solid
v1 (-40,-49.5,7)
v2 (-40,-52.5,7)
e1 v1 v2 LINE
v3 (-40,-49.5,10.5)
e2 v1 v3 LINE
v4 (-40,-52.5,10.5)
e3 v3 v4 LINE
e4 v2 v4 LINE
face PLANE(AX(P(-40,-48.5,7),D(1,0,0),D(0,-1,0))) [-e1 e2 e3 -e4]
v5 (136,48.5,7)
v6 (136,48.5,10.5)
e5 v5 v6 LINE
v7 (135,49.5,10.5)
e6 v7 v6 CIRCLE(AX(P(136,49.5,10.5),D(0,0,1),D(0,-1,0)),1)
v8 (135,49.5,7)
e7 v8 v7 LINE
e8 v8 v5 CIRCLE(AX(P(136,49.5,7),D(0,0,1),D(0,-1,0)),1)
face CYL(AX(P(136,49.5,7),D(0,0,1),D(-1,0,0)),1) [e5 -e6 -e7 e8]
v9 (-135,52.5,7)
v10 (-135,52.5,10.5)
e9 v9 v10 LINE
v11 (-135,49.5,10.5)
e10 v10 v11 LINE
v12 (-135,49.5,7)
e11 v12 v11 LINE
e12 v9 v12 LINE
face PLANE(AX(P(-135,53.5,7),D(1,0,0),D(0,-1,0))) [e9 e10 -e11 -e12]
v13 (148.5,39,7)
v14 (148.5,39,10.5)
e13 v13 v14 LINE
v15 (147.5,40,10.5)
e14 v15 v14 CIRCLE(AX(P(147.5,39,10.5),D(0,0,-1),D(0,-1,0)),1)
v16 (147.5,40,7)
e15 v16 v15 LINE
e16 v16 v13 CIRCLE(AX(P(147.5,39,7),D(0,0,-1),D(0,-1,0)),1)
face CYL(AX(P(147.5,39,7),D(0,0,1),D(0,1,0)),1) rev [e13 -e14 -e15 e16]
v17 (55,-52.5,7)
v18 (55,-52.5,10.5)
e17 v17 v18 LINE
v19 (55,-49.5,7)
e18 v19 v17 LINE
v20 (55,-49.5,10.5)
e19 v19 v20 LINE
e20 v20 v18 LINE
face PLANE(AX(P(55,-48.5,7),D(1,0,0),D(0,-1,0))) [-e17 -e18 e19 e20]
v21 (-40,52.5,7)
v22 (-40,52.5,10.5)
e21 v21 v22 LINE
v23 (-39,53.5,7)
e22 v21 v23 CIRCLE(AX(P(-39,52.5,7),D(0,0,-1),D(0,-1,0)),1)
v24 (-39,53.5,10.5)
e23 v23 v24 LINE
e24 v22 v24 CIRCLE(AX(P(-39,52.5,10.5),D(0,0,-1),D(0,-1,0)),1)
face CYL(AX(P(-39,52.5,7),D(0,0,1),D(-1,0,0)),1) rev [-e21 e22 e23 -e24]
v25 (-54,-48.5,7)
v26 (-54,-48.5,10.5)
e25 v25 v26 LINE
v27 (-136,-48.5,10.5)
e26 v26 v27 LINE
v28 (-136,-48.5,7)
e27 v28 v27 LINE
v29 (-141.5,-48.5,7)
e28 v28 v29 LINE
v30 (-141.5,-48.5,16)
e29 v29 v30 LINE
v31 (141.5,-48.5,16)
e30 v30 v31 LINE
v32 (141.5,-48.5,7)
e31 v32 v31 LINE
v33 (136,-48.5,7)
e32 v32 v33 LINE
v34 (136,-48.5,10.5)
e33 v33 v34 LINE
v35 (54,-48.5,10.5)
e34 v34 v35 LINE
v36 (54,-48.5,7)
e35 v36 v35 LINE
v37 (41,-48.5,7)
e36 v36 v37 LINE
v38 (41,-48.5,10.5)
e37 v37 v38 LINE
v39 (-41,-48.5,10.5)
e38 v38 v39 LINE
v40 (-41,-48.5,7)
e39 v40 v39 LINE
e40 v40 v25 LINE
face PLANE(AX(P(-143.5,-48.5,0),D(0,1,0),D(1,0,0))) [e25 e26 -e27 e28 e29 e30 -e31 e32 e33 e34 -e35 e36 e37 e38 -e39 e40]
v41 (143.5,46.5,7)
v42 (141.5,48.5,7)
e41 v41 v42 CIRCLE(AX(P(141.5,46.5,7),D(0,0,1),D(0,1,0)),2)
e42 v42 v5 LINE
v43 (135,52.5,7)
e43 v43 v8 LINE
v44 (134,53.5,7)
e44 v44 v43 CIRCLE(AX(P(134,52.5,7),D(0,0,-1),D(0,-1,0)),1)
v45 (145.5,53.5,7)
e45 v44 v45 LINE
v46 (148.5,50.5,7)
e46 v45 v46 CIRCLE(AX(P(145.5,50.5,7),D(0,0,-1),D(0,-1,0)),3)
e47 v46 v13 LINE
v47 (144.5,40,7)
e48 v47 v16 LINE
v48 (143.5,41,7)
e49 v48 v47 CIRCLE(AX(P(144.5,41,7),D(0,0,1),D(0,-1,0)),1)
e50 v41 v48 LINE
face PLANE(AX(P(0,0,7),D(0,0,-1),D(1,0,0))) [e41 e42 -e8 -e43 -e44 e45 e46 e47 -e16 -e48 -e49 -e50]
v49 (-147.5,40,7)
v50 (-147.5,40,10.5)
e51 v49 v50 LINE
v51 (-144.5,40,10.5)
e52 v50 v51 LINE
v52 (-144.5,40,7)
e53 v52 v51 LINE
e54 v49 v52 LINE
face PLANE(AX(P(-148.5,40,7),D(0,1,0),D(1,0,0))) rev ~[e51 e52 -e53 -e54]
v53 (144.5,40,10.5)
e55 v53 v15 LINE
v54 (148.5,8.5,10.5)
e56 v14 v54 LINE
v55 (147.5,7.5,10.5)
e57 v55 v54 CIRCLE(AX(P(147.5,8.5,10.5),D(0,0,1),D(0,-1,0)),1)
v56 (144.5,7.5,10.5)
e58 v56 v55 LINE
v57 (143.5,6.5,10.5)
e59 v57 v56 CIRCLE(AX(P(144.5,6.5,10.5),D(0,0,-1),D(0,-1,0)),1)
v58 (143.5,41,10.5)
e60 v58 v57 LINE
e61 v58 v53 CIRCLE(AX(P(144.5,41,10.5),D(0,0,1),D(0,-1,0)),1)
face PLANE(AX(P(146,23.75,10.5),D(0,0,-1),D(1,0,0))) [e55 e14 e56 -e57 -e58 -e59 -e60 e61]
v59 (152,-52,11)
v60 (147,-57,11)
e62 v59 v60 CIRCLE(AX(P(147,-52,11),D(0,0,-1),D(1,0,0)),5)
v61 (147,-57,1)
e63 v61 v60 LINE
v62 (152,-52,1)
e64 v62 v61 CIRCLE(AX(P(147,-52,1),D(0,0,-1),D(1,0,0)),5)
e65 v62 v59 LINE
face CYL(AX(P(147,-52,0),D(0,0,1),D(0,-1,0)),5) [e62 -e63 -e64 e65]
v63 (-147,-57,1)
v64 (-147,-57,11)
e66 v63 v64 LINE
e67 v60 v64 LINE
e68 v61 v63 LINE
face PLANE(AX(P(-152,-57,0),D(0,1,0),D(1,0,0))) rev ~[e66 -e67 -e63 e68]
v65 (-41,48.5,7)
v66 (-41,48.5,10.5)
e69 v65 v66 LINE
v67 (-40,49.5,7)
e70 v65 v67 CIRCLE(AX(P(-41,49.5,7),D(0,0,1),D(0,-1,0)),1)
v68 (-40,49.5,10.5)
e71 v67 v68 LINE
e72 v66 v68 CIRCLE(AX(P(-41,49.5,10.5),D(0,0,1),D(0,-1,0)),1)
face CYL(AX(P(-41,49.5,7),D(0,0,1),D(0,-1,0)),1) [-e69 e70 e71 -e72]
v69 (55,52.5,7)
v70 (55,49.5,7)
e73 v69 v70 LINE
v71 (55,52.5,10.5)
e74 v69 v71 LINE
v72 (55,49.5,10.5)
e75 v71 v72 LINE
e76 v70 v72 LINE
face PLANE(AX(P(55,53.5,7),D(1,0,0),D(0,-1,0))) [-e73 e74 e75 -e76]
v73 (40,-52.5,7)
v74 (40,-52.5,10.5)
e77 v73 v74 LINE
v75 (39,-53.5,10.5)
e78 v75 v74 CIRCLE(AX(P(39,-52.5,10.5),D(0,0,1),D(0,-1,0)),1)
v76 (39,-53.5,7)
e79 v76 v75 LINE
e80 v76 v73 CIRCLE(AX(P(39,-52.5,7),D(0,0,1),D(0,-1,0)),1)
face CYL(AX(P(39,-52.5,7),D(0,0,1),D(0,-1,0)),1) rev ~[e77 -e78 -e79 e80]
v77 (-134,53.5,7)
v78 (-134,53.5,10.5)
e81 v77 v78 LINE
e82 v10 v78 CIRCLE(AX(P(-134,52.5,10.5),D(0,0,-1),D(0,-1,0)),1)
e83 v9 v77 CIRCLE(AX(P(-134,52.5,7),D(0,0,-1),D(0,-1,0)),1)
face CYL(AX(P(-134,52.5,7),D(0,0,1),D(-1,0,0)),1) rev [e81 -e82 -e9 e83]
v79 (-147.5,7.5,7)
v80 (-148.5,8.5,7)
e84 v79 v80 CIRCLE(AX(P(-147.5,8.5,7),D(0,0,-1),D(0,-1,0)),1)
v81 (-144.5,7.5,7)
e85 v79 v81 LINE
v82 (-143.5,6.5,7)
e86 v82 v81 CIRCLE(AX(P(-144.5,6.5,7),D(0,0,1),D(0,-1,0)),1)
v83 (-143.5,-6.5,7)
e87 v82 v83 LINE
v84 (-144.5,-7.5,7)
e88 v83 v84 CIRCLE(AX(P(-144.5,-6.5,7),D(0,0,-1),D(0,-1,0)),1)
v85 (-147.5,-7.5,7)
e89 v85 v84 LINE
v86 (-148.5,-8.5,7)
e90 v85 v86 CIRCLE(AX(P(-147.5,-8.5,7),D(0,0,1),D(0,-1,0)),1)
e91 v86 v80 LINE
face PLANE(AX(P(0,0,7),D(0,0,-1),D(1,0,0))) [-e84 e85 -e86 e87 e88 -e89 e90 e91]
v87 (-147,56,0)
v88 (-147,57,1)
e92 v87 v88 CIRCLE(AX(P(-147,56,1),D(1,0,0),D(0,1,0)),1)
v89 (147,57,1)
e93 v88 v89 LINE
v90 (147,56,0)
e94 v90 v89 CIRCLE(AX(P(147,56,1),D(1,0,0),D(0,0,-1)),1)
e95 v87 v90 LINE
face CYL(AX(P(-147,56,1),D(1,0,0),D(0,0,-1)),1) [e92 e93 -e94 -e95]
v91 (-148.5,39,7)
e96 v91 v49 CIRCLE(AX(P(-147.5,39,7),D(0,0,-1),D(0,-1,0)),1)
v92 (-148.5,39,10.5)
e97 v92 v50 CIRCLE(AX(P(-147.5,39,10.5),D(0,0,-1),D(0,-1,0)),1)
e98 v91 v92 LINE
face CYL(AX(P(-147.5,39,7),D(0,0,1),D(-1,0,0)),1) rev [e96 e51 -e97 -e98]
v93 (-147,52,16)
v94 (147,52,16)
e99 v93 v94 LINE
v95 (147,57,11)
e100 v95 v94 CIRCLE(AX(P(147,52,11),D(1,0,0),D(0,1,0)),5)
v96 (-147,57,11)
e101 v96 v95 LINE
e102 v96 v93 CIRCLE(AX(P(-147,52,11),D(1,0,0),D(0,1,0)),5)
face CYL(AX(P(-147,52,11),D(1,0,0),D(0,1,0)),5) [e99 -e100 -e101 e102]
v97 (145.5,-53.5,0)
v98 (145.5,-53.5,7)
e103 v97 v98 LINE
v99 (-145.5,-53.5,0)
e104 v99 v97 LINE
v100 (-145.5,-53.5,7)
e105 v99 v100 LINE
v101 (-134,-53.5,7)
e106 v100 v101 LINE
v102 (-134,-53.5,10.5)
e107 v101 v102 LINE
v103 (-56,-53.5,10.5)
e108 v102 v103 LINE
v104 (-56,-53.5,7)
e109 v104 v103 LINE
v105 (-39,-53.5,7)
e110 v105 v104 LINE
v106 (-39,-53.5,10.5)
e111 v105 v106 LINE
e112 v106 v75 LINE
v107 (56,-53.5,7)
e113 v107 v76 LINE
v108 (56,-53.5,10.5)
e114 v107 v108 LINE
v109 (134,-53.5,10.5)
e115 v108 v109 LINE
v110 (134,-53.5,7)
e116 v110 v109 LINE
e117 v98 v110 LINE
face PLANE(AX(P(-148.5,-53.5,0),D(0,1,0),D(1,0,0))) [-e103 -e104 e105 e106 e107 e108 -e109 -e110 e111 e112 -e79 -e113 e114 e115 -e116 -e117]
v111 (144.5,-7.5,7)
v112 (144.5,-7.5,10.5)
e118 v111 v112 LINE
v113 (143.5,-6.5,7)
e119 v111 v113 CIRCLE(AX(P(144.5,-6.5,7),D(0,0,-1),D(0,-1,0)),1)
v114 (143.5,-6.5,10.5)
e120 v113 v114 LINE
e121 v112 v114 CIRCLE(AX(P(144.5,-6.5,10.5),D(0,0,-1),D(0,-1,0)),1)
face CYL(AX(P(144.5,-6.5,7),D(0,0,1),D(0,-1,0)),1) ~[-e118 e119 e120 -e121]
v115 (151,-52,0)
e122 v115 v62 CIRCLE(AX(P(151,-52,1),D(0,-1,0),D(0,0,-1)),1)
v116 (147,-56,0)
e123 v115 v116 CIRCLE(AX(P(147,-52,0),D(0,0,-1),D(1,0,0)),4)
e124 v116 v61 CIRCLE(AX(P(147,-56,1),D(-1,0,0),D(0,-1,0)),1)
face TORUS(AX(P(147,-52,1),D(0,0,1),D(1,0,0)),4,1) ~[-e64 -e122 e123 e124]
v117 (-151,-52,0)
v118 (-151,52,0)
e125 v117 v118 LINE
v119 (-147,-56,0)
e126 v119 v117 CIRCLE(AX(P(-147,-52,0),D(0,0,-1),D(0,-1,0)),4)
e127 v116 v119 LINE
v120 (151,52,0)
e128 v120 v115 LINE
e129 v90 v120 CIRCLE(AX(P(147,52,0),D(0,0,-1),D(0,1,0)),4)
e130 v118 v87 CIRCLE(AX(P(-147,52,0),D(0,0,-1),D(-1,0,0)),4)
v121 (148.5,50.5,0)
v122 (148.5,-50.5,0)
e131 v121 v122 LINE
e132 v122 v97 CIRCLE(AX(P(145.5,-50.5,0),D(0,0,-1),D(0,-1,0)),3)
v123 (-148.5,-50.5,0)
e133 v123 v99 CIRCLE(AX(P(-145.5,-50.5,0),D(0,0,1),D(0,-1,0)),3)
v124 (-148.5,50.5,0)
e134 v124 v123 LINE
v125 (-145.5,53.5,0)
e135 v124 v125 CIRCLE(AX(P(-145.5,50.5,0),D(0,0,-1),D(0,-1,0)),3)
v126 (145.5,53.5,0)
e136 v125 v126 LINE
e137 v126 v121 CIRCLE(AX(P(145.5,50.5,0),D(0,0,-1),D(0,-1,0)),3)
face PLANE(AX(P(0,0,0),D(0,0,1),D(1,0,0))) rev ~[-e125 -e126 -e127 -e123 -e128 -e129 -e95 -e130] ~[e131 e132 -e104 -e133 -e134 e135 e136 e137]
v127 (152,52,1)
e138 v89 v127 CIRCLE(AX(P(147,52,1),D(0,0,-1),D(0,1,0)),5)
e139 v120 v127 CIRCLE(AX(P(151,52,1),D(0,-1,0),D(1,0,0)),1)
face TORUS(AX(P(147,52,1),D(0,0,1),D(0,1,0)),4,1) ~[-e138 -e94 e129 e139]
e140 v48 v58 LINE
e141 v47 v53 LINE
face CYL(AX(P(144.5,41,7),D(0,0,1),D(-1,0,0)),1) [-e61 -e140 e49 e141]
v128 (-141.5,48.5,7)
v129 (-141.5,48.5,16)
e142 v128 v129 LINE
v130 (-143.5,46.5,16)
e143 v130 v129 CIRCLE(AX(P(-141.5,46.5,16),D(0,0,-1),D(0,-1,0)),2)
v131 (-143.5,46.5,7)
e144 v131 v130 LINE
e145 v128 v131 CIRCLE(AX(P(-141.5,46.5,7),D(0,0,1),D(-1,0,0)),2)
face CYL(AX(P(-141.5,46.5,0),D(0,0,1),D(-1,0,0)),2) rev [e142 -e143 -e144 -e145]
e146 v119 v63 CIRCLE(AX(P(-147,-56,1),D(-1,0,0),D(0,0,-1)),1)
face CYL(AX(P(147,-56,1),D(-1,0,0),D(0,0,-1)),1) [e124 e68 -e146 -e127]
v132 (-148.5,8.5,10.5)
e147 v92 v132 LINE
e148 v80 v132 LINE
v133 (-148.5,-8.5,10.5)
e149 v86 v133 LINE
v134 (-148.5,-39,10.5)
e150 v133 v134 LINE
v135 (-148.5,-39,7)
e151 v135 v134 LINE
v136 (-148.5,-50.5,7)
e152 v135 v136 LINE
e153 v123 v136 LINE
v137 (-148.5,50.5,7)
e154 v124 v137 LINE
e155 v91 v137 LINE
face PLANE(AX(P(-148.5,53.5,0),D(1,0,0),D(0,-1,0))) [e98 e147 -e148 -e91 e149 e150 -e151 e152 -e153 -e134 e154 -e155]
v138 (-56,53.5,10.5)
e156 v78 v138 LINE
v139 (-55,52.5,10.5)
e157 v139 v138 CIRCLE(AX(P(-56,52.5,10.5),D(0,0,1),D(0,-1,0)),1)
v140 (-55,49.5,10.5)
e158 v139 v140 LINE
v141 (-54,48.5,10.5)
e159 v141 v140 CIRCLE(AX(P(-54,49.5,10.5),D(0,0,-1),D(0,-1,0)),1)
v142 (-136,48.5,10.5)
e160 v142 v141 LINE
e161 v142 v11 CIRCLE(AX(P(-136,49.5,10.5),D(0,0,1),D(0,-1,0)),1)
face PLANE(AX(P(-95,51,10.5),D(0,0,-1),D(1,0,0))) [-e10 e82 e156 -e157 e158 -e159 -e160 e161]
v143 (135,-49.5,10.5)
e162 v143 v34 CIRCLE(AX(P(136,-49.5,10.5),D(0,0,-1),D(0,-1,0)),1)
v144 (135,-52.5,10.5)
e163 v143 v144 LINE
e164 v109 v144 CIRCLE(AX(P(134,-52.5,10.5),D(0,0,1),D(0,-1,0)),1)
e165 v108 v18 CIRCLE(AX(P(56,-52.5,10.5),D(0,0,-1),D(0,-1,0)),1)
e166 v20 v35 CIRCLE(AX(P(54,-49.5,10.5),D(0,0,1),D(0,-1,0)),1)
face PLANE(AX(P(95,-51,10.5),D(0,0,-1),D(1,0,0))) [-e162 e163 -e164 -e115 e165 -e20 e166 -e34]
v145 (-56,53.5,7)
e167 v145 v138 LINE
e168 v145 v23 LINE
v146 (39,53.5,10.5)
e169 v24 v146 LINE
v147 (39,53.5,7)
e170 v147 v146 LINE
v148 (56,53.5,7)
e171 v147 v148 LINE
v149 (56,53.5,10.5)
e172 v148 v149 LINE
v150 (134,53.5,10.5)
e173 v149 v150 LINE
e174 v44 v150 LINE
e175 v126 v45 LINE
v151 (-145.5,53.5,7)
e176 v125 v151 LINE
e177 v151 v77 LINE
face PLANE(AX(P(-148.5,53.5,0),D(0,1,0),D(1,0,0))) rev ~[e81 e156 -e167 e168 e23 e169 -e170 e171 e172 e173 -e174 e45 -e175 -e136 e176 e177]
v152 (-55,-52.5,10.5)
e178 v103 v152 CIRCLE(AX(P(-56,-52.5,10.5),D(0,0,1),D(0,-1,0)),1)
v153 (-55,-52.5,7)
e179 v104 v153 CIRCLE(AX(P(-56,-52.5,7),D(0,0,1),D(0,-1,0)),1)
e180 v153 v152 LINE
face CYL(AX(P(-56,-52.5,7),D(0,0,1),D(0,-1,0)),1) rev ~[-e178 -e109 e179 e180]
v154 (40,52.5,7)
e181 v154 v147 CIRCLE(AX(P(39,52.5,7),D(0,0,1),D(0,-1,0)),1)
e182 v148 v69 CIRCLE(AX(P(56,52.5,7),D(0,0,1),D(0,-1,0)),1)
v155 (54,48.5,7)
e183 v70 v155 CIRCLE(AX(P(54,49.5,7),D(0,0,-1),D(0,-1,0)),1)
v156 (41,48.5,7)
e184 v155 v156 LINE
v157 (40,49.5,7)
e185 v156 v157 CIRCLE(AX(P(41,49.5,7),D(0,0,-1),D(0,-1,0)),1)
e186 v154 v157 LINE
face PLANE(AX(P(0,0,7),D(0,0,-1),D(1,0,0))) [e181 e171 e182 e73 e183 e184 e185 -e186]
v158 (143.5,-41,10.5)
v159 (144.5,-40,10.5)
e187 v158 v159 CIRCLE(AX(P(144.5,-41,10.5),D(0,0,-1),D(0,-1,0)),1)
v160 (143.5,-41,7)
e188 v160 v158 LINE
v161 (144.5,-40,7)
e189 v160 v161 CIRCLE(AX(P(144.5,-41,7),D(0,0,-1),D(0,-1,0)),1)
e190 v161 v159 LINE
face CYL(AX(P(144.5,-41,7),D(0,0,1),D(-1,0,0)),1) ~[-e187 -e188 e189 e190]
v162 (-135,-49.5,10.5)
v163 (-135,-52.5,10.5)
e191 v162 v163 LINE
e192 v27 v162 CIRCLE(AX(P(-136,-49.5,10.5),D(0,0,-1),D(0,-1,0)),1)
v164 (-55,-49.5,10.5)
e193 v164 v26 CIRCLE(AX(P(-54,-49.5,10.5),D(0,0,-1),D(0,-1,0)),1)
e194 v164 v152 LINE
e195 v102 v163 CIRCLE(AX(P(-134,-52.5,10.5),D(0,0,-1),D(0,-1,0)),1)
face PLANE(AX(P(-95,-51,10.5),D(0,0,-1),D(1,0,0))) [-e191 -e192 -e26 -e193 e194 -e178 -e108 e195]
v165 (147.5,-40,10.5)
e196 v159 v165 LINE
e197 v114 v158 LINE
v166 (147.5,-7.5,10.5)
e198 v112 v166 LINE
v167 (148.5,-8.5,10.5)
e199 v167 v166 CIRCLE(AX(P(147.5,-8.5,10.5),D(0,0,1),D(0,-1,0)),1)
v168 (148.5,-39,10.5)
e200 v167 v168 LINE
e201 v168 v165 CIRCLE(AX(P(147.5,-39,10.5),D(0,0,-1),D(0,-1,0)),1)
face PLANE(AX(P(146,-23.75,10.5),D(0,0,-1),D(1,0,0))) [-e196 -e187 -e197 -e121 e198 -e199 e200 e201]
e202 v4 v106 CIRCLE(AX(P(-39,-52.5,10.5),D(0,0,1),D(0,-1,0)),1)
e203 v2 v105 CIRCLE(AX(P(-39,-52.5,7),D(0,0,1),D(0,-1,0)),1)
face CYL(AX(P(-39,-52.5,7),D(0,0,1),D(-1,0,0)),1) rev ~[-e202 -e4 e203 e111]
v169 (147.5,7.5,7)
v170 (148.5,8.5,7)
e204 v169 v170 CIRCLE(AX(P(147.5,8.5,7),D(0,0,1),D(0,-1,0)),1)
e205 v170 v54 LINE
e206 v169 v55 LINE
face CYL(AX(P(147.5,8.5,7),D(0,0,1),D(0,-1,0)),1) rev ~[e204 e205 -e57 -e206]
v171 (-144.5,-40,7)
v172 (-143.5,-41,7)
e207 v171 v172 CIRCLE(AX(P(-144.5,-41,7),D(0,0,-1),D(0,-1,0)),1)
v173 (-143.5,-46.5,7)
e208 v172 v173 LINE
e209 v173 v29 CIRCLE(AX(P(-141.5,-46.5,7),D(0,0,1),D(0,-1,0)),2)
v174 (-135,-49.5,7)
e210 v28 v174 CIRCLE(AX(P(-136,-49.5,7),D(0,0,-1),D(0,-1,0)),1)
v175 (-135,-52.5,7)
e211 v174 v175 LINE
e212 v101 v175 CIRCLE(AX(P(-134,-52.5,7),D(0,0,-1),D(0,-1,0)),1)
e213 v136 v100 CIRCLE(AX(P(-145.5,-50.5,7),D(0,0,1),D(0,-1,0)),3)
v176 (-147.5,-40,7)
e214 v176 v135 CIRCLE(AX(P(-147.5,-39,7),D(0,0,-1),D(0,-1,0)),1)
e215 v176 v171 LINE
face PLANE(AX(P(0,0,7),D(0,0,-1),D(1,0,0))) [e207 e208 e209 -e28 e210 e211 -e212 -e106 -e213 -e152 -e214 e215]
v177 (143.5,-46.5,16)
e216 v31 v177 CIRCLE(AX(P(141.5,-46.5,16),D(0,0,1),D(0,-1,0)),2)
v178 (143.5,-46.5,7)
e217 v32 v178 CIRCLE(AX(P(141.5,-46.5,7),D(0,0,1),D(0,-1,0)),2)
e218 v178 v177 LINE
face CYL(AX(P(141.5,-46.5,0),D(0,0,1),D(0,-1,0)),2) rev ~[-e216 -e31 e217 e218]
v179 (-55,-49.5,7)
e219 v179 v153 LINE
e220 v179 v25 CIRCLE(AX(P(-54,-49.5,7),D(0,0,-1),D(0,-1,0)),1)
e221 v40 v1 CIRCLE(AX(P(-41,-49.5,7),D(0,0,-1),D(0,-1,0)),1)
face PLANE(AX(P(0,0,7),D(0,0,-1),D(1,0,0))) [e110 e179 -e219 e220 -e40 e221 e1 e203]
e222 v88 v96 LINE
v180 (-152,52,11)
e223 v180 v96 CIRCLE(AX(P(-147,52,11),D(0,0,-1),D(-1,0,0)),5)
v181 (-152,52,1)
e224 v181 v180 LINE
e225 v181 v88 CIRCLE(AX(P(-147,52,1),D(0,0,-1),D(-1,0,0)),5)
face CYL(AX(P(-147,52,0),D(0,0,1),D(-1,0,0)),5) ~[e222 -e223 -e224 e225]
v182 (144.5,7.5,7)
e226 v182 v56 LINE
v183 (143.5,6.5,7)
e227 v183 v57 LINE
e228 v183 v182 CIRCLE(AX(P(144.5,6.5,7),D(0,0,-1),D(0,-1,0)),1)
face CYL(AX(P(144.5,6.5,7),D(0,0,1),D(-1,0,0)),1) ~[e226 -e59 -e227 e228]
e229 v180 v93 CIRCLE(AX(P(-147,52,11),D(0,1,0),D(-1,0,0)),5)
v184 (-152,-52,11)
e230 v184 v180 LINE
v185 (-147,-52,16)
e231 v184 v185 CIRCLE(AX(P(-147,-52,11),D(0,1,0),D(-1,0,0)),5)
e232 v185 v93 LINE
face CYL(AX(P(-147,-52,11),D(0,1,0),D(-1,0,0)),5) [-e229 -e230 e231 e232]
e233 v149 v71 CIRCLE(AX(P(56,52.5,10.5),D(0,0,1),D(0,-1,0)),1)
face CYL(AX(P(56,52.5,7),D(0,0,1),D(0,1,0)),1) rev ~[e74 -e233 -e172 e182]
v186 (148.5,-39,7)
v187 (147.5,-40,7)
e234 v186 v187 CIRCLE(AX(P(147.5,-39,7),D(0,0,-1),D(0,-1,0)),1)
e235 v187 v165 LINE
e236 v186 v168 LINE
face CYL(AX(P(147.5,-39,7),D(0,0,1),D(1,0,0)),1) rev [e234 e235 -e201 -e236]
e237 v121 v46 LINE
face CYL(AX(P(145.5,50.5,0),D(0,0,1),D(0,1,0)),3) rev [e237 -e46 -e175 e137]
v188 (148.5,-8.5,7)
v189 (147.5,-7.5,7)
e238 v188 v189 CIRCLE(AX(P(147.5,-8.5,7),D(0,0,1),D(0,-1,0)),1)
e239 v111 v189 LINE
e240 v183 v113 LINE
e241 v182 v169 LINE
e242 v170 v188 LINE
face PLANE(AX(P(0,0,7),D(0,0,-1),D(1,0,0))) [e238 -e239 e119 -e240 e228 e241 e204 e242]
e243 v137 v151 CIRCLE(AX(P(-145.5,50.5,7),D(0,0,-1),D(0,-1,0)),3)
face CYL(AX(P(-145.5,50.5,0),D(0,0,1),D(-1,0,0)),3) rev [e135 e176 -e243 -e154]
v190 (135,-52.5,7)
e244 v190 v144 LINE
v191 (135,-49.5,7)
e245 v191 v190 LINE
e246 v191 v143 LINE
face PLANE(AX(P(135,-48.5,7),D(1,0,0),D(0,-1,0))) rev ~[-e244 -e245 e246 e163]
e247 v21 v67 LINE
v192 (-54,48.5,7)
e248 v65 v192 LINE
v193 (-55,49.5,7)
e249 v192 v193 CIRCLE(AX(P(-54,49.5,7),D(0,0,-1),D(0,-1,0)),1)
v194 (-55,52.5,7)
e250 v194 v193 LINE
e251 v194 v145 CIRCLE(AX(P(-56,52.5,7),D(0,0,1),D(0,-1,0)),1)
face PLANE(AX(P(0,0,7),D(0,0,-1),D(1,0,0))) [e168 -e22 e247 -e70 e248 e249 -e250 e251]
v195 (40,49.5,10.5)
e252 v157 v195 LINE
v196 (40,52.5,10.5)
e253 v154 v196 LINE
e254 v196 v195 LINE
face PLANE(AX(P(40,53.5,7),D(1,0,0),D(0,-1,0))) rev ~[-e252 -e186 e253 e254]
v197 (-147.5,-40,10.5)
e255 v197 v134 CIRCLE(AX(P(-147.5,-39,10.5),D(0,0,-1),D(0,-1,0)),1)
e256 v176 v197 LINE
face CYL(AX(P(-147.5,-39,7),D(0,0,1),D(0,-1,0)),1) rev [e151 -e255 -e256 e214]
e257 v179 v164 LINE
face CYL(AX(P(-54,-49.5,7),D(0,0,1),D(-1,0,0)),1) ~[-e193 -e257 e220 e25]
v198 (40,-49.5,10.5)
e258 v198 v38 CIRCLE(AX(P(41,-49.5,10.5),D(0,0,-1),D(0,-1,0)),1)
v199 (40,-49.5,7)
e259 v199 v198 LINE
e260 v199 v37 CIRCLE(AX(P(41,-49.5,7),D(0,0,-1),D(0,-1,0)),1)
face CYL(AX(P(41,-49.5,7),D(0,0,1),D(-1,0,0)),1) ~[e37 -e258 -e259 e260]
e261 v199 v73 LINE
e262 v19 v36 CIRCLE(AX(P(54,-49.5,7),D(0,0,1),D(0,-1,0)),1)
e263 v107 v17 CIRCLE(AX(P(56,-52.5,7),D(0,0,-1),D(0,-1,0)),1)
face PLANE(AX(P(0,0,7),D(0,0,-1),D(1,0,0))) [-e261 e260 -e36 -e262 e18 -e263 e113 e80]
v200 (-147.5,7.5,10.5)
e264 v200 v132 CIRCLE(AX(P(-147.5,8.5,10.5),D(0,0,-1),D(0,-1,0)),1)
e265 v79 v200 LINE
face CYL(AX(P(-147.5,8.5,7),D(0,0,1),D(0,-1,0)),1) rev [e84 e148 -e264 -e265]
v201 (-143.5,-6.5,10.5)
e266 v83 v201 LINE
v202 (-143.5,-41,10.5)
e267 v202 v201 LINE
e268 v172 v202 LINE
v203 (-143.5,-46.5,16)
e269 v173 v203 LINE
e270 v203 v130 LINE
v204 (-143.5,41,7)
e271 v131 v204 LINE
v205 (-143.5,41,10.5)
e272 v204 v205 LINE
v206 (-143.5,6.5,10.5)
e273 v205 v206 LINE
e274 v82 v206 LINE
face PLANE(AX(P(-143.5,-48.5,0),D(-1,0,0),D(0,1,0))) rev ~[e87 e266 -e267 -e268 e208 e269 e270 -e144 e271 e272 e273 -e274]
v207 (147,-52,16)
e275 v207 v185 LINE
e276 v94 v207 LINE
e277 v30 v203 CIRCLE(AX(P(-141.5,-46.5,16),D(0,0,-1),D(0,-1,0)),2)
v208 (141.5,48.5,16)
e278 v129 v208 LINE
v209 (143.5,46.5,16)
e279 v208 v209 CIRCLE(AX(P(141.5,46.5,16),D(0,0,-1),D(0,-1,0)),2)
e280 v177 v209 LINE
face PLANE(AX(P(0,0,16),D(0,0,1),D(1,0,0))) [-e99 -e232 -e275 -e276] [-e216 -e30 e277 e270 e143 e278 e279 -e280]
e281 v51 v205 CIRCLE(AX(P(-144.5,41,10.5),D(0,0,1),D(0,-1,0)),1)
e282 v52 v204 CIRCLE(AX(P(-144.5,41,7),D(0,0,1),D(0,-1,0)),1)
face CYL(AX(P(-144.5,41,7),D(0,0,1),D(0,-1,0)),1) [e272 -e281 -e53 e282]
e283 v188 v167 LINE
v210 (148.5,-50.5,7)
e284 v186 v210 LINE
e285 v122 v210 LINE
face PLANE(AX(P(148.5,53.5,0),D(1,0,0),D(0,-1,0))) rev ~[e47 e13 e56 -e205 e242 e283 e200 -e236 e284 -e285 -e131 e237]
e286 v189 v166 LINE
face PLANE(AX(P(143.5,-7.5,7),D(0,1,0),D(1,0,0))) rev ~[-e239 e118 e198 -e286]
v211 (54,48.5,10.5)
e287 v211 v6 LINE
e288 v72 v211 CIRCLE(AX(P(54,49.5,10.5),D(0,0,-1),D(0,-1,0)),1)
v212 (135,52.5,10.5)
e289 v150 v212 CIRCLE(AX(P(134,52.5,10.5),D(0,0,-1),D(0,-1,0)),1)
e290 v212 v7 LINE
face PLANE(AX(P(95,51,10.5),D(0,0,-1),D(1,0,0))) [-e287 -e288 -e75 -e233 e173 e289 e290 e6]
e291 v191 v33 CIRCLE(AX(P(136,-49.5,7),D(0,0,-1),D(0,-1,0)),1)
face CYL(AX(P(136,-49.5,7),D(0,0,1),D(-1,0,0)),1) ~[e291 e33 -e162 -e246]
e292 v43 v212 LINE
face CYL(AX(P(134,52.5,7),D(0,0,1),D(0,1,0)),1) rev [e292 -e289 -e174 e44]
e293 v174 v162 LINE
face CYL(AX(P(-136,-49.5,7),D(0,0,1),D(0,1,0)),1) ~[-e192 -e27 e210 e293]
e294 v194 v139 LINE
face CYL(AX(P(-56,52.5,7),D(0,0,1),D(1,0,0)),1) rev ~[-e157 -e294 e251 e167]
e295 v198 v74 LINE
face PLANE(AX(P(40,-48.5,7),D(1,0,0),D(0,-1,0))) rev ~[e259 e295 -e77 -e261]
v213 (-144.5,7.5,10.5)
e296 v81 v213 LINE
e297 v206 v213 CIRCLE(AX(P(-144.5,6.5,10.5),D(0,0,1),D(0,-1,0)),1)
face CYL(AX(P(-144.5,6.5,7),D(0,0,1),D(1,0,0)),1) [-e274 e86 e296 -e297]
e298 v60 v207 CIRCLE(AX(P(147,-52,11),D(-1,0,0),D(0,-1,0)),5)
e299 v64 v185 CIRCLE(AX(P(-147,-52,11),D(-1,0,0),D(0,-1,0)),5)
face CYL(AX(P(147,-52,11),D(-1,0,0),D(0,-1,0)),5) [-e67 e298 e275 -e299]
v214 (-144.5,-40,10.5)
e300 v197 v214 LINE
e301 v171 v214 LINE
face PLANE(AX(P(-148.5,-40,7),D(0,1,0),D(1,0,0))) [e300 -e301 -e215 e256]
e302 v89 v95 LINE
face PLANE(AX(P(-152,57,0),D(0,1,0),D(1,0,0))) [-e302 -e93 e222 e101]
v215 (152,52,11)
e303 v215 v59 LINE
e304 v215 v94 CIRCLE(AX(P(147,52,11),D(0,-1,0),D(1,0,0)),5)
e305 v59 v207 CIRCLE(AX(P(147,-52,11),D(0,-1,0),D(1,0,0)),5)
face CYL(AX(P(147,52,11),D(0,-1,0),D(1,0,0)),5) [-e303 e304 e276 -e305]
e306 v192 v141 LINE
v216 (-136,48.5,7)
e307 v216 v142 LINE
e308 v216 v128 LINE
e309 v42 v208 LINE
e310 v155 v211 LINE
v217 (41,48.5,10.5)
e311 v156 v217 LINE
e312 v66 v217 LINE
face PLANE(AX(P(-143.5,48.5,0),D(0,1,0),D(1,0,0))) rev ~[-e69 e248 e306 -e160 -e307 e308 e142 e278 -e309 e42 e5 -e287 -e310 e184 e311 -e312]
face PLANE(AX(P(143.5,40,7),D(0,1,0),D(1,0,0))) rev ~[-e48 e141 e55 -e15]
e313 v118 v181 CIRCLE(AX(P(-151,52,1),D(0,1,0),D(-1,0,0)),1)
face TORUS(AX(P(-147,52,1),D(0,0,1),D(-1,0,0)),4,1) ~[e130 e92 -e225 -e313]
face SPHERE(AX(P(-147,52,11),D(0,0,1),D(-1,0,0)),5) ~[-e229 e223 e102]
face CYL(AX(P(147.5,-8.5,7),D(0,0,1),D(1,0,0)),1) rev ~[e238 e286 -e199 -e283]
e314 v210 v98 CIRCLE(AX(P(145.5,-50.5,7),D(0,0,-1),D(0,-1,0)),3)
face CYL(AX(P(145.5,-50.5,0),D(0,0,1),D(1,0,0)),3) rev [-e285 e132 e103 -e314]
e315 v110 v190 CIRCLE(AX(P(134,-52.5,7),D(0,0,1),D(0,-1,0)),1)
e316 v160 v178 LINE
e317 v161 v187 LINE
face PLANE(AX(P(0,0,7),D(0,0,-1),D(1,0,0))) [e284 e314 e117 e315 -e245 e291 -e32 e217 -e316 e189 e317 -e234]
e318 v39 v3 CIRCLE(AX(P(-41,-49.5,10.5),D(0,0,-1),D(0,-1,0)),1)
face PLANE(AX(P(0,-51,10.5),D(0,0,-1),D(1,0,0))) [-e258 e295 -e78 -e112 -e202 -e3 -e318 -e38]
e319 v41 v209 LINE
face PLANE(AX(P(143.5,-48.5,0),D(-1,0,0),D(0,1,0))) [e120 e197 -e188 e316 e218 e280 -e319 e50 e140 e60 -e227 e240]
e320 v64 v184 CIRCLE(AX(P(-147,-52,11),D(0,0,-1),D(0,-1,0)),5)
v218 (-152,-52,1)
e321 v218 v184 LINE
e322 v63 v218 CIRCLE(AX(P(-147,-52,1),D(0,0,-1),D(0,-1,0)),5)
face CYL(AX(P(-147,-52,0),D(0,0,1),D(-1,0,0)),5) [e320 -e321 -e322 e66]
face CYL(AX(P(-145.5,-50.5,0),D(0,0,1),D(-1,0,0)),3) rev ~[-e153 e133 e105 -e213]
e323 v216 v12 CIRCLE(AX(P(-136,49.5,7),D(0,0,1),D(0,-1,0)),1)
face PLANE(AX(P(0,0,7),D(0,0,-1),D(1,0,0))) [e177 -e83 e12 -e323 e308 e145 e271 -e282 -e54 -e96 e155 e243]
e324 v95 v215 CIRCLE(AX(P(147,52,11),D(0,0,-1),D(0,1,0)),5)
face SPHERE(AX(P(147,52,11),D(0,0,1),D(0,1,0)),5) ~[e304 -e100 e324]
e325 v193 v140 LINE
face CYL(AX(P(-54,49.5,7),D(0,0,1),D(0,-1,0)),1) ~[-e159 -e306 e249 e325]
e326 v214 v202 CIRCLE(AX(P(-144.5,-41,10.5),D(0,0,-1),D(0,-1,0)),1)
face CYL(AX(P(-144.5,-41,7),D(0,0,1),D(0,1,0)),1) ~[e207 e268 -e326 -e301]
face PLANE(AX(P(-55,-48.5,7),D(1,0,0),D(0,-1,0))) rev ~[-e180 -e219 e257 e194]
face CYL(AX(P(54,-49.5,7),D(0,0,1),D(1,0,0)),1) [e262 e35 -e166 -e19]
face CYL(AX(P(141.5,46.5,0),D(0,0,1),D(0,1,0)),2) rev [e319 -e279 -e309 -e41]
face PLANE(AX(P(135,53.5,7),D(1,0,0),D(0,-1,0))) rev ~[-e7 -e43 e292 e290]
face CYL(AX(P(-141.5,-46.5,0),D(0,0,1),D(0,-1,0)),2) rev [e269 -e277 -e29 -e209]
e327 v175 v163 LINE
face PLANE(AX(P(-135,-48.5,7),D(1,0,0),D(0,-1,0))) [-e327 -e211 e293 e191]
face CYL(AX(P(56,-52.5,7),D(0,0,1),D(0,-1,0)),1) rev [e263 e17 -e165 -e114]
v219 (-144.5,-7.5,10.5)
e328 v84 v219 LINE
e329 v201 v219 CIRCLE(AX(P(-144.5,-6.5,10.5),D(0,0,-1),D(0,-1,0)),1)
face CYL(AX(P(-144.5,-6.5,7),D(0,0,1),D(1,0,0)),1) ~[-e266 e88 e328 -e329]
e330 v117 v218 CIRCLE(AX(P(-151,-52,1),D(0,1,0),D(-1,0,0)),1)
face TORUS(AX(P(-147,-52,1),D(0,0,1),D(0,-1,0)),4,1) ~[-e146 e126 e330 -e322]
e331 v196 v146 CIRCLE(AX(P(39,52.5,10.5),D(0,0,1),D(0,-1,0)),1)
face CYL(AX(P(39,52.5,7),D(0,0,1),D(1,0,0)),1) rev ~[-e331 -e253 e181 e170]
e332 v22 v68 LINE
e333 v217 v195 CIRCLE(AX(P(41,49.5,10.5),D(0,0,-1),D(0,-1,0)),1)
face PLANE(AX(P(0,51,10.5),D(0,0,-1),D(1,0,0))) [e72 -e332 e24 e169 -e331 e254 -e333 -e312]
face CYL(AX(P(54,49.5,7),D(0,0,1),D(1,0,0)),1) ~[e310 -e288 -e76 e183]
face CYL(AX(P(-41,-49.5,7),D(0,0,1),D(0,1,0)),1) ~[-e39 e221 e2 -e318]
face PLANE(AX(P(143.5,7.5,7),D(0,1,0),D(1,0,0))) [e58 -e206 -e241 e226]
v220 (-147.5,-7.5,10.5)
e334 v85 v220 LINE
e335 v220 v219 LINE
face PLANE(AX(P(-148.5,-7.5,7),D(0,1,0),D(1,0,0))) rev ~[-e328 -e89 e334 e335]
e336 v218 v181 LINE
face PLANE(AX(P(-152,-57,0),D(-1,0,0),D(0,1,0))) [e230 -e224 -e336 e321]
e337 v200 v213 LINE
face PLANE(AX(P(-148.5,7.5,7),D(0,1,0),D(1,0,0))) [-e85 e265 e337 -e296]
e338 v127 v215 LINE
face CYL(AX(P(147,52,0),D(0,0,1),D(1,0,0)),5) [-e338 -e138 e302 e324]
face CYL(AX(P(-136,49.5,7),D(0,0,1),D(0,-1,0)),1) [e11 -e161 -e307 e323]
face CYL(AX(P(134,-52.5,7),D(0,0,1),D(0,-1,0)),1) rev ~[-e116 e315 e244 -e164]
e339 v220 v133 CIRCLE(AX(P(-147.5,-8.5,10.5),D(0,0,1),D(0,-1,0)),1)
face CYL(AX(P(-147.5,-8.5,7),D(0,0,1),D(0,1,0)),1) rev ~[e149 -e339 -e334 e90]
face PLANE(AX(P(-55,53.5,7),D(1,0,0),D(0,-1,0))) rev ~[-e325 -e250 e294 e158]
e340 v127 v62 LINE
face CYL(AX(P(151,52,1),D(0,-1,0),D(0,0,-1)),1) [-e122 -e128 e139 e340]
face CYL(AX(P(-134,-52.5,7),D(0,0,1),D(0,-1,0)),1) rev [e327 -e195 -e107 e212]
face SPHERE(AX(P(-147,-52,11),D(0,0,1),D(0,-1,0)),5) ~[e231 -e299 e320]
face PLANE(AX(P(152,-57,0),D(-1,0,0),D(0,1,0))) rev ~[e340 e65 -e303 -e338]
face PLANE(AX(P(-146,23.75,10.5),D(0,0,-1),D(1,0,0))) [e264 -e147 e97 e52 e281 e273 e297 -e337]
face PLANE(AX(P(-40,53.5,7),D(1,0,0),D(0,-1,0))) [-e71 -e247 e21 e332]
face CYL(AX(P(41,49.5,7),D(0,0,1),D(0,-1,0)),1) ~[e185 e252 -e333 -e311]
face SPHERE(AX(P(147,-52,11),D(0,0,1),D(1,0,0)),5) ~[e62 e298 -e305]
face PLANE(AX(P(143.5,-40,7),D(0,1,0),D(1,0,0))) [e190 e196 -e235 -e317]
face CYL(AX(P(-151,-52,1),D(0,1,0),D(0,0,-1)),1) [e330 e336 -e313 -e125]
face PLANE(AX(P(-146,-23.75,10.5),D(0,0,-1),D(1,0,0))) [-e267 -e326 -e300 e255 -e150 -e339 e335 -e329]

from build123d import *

# Parameters (mm, degrees)
SKETCH001_W     = 304
SKETCH001_H     = 114
SKETCH001_W_2   = 287
SKETCH001_H_2   = 97
PAD_DEPTH       = 16
FILLET_R        = 2
FILLET001_R     = 2
FILLET002_R     = 2
FILLET003_R     = 2
FILLET004_R     = 5
FILLET005_R     = 5
FILLET006_R     = 5
FILLET007_R     = 5
SKETCH002_W     = 297
SKETCH002_H     = 107
POCKET_DEPTH    = 7
FILLET008_R     = 3
FILLET009_R     = 3
FILLET010_R     = 3
FILLET011_R     = 3
SKETCH003_W     = 80
SKETCH003_H     = 5
POCKET001_DEPTH = 3.5
SKETCH004_W     = 5
SKETCH004_H     = 32.5
POCKET002_DEPTH = 3.5
FILLET012_R     = 5
FILLET013_R     = 1
FILLET014_R     = 1
FILLET015_R     = 1
FILLET016_R     = 1
FILLET017_R     = 1
FILLET018_R     = 1
FILLET019_R     = 1
FILLET020_R     = 1
FILLET021_R     = 1
FILLET022_R     = 1
FILLET023_R     = 1
FILLET024_R     = 1
FILLET025_R     = 1
FILLET026_R     = 1
FILLET027_R     = 1
FILLET028_R     = 1
FILLET029_R     = 1
FILLET030_R     = 1
FILLET031_R     = 1
FILLET032_R     = 1
FILLET033_R     = 1
FILLET034_R     = 1
FILLET035_R     = 1
FILLET036_R     = 1
FILLET037_R     = 1
FILLET038_R     = 1
FILLET039_R     = 1
FILLET040_R     = 1
FILLET041_R     = 1
FILLET042_R     = 1
FILLET043_R     = 1
FILLET044_R     = 1
FILLET045_R     = 1
FILLET046_R     = 1
FILLET047_R     = 1
FILLET048_R     = 1
FILLET049_R     = 1
FILLET050_R     = 1
FILLET051_R     = 1
FILLET052_R     = 1
FILLET053_R     = 1


with BuildPart() as part:
    # Sketch001 → Pad (new body)
    with BuildSketch(Plane.XY):
        Rectangle(SKETCH001_W, SKETCH001_H)
        Rectangle(SKETCH001_W_2, SKETCH001_H_2, mode=Mode.SUBTRACT)
    extrude(amount=PAD_DEPTH)

    # Fillet
    fillet_edges = [part.edges().sort_by_distance(p)[0] for p in [
        (-143.5, -48.5, 8),
    ]]
    fillet(fillet_edges, radius=FILLET_R)

    # Fillet001
    fillet001_edges = [part.edges().sort_by_distance(p)[0] for p in [
        (143.5, -48.5, 8),
    ]]
    fillet(fillet001_edges, radius=FILLET001_R)

    # Fillet002
    fillet002_edges = [part.edges().sort_by_distance(p)[0] for p in [
        (-143.5, 48.5, 8),
    ]]
    fillet(fillet002_edges, radius=FILLET002_R)

    # Fillet003
    fillet003_edges = [part.edges().sort_by_distance(p)[0] for p in [
        (143.5, 48.5, 8),
    ]]
    fillet(fillet003_edges, radius=FILLET003_R)

    # Fillet004
    fillet004_edges = [part.edges().sort_by_distance(p)[0] for p in [
        (-152, -57, 8),
    ]]
    fillet(fillet004_edges, radius=FILLET004_R)

    # Fillet005
    fillet005_edges = [part.edges().sort_by_distance(p)[0] for p in [
        (-152, 57, 8),
    ]]
    fillet(fillet005_edges, radius=FILLET005_R)

    # Fillet006
    fillet006_edges = [part.edges().sort_by_distance(p)[0] for p in [
        (152, -57, 8),
    ]]
    fillet(fillet006_edges, radius=FILLET006_R)

    # Fillet007
    fillet007_edges = [part.edges().sort_by_distance(p)[0] for p in [
        (152, 57, 8),
    ]]
    fillet(fillet007_edges, radius=FILLET007_R)

    # Sketch002 (on Face1 of Fillet007) → Pocket (cut)
    with BuildSketch(Plane(origin=(0, 0, 0), x_dir=(1, 0, 0), z_dir=(0, 0, -1))):
        Rectangle(SKETCH002_W, SKETCH002_H)
    extrude(amount=-POCKET_DEPTH, mode=Mode.SUBTRACT)

    # Fillet008
    fillet008_edges = [part.edges().sort_by_distance(p)[0] for p in [
        (-148.5, -53.5, 3.5),
    ]]
    fillet(fillet008_edges, radius=FILLET008_R)

    # Fillet009
    fillet009_edges = [part.edges().sort_by_distance(p)[0] for p in [
        (-148.5, 53.5, 3.5),
    ]]
    fillet(fillet009_edges, radius=FILLET009_R)

    # Fillet010
    fillet010_edges = [part.edges().sort_by_distance(p)[0] for p in [
        (148.5, 53.5, 3.5),
    ]]
    fillet(fillet010_edges, radius=FILLET010_R)

    # Fillet011
    fillet011_edges = [part.edges().sort_by_distance(p)[0] for p in [
        (148.5, -53.5, 3.5),
    ]]
    fillet(fillet011_edges, radius=FILLET011_R)

    # Sketch003 (on Face18 of Fillet011) → Pocket001 (cut)
    with BuildSketch(Plane(origin=(0, 0, 7), x_dir=(1, 0, 0), z_dir=(0, 0, -1))):
        with Locations((0, 51)):
            Rectangle(SKETCH003_W, SKETCH003_H)
        with Locations((0, -51)):
            Rectangle(SKETCH003_W, SKETCH003_H)
        with Locations((-95, 51)):
            Rectangle(SKETCH003_W, SKETCH003_H)
        with Locations((95, 51)):
            Rectangle(SKETCH003_W, SKETCH003_H)
        with Locations((95, -51)):
            Rectangle(SKETCH003_W, SKETCH003_H)
        with Locations((-95, -51)):
            Rectangle(SKETCH003_W, SKETCH003_H)
    extrude(amount=-POCKET001_DEPTH, mode=Mode.SUBTRACT)

    # Sketch004 (on Face18 of Pocket001) → Pocket002 (cut)
    with BuildSketch(Plane(origin=(0, 0, 7), x_dir=(1, 0, 0), z_dir=(0, 0, -1))):
        with Locations((-146, 23.75)):
            Rectangle(SKETCH004_W, SKETCH004_H)
        with Locations((146, 23.75)):
            Rectangle(SKETCH004_W, SKETCH004_H)
        with Locations((146, -23.75)):
            Rectangle(SKETCH004_W, SKETCH004_H)
        with Locations((-146, -23.75)):
            Rectangle(SKETCH004_W, SKETCH004_H)
    extrude(amount=-POCKET002_DEPTH, mode=Mode.SUBTRACT)

    # Fillet012
    fillet012_edges = [part.edges().sort_by_distance(p)[0] for p in [
        (-150.535534, 55.535534, 16),
    ]]
    fillet(fillet012_edges, radius=FILLET012_R)

    # Fillet013
    fillet013_edges = [part.edges().sort_by_distance(p)[0] for p in [
        (-150.535534, 55.535534, 0),
    ]]
    fillet(fillet013_edges, radius=FILLET013_R)

    # Fillet014
    fillet014_edges = [part.edges().sort_by_distance(p)[0] for p in [
        (-135, -48.5, 8.75),
    ]]
    fillet(fillet014_edges, radius=FILLET014_R)

    # Fillet015
    fillet015_edges = [part.edges().sort_by_distance(p)[0] for p in [
        (-143.5, -40, 8.75),
    ]]
    fillet(fillet015_edges, radius=FILLET015_R)

    # Fillet016
    fillet016_edges = [part.edges().sort_by_distance(p)[0] for p in [
        (-135, -53.5, 8.75),
    ]]
    fillet(fillet016_edges, radius=FILLET016_R)

    # Fillet017
    fillet017_edges = [part.edges().sort_by_distance(p)[0] for p in [
        (-148.5, -40, 8.75),
    ]]
    fillet(fillet017_edges, radius=FILLET017_R)

    # Fillet018
    fillet018_edges = [part.edges().sort_by_distance(p)[0] for p in [
        (-40, -53.5, 8.75),
    ]]
    fillet(fillet018_edges, radius=FILLET018_R)

    # Fillet019
    fillet019_edges = [part.edges().sort_by_distance(p)[0] for p in [
        (-40, -48.5, 8.75),
    ]]
    fillet(fillet019_edges, radius=FILLET019_R)

    # Fillet020
    fillet020_edges = [part.edges().sort_by_distance(p)[0] for p in [
        (-55, -48.5, 8.75),
    ]]
    fillet(fillet020_edges, radius=FILLET020_R)

    # Fillet021
    fillet021_edges = [part.edges().sort_by_distance(p)[0] for p in [
        (-55, -53.5, 8.75),
    ]]
    fillet(fillet021_edges, radius=FILLET021_R)

    # Fillet022
    fillet022_edges = [part.edges().sort_by_distance(p)[0] for p in [
        (40, -48.5, 8.75),
    ]]
    fillet(fillet022_edges, radius=FILLET022_R)

    # Fillet023
    fillet023_edges = [part.edges().sort_by_distance(p)[0] for p in [
        (40, -53.5, 8.75),
    ]]
    fillet(fillet023_edges, radius=FILLET023_R)

    # Fillet024
    fillet024_edges = [part.edges().sort_by_distance(p)[0] for p in [
        (55, -48.5, 8.75),
    ]]
    fillet(fillet024_edges, radius=FILLET024_R)

    # Fillet025
    fillet025_edges = [part.edges().sort_by_distance(p)[0] for p in [
        (55, -53.5, 8.75),
    ]]
    fillet(fillet025_edges, radius=FILLET025_R)

    # Fillet026
    fillet026_edges = [part.edges().sort_by_distance(p)[0] for p in [
        (148.5, -40, 8.75),
    ]]
    fillet(fillet026_edges, radius=FILLET026_R)

    # Fillet027
    fillet027_edges = [part.edges().sort_by_distance(p)[0] for p in [
        (143.5, -40, 8.75),
    ]]
    fillet(fillet027_edges, radius=FILLET027_R)

    # Fillet028
    fillet028_edges = [part.edges().sort_by_distance(p)[0] for p in [
        (135, -48.5, 8.75),
    ]]
    fillet(fillet028_edges, radius=FILLET028_R)

    # Fillet029
    fillet029_edges = [part.edges().sort_by_distance(p)[0] for p in [
        (135, -53.5, 8.75),
    ]]
    fillet(fillet029_edges, radius=FILLET029_R)

    # Fillet030
    fillet030_edges = [part.edges().sort_by_distance(p)[0] for p in [
        (148.5, 7.5, 8.75),
    ]]
    fillet(fillet030_edges, radius=FILLET030_R)

    # Fillet031
    fillet031_edges = [part.edges().sort_by_distance(p)[0] for p in [
        (143.5, 7.5, 8.75),
    ]]
    fillet(fillet031_edges, radius=FILLET031_R)

    # Fillet032
    fillet032_edges = [part.edges().sort_by_distance(p)[0] for p in [
        (143.5, -7.5, 8.75),
    ]]
    fillet(fillet032_edges, radius=FILLET032_R)

    # Fillet033
    fillet033_edges = [part.edges().sort_by_distance(p)[0] for p in [
        (148.5, -7.5, 8.75),
    ]]
    fillet(fillet033_edges, radius=FILLET033_R)

    # Fillet034
    fillet034_edges = [part.edges().sort_by_distance(p)[0] for p in [
        (148.5, 40, 8.75),
    ]]
    fillet(fillet034_edges, radius=FILLET034_R)

    # Fillet035
    fillet035_edges = [part.edges().sort_by_distance(p)[0] for p in [
        (143.5, 40, 8.75),
    ]]
    fillet(fillet035_edges, radius=FILLET035_R)

    # Fillet036
    fillet036_edges = [part.edges().sort_by_distance(p)[0] for p in [
        (135, 48.5, 8.75),
    ]]
    fillet(fillet036_edges, radius=FILLET036_R)

    # Fillet037
    fillet037_edges = [part.edges().sort_by_distance(p)[0] for p in [
        (135, 53.5, 8.75),
    ]]
    fillet(fillet037_edges, radius=FILLET037_R)

    # Fillet038
    fillet038_edges = [part.edges().sort_by_distance(p)[0] for p in [
        (40, 53.5, 8.75),
    ]]
    fillet(fillet038_edges, radius=FILLET038_R)

    # Fillet039
    fillet039_edges = [part.edges().sort_by_distance(p)[0] for p in [
        (40, 48.5, 8.75),
    ]]
    fillet(fillet039_edges, radius=FILLET039_R)

    # Fillet040
    fillet040_edges = [part.edges().sort_by_distance(p)[0] for p in [
        (55, 48.5, 8.75),
    ]]
    fillet(fillet040_edges, radius=FILLET040_R)

    # Fillet041
    fillet041_edges = [part.edges().sort_by_distance(p)[0] for p in [
        (55, 53.5, 8.75),
    ]]
    fillet(fillet041_edges, radius=FILLET041_R)

    # Fillet042
    fillet042_edges = [part.edges().sort_by_distance(p)[0] for p in [
        (-40, 53.5, 8.75),
    ]]
    fillet(fillet042_edges, radius=FILLET042_R)

    # Fillet043
    fillet043_edges = [part.edges().sort_by_distance(p)[0] for p in [
        (-40, 48.5, 8.75),
    ]]
    fillet(fillet043_edges, radius=FILLET043_R)

    # Fillet044
    fillet044_edges = [part.edges().sort_by_distance(p)[0] for p in [
        (-55, 53.5, 8.75),
    ]]
    fillet(fillet044_edges, radius=FILLET044_R)

    # Fillet045
    fillet045_edges = [part.edges().sort_by_distance(p)[0] for p in [
        (-55, 48.5, 8.75),
    ]]
    fillet(fillet045_edges, radius=FILLET045_R)

    # Fillet046
    fillet046_edges = [part.edges().sort_by_distance(p)[0] for p in [
        (-135, 53.5, 8.75),
    ]]
    fillet(fillet046_edges, radius=FILLET046_R)

    # Fillet047
    fillet047_edges = [part.edges().sort_by_distance(p)[0] for p in [
        (-135, 48.5, 8.75),
    ]]
    fillet(fillet047_edges, radius=FILLET047_R)

    # Fillet048
    fillet048_edges = [part.edges().sort_by_distance(p)[0] for p in [
        (-143.5, 40, 8.75),
    ]]
    fillet(fillet048_edges, radius=FILLET048_R)

    # Fillet049
    fillet049_edges = [part.edges().sort_by_distance(p)[0] for p in [
        (-148.5, 40, 8.75),
    ]]
    fillet(fillet049_edges, radius=FILLET049_R)

    # Fillet050
    fillet050_edges = [part.edges().sort_by_distance(p)[0] for p in [
        (-148.5, 7.5, 8.75),
    ]]
    fillet(fillet050_edges, radius=FILLET050_R)

    # Fillet051
    fillet051_edges = [part.edges().sort_by_distance(p)[0] for p in [
        (-143.5, 7.5, 8.75),
    ]]
    fillet(fillet051_edges, radius=FILLET051_R)

    # Fillet052
    fillet052_edges = [part.edges().sort_by_distance(p)[0] for p in [
        (-148.5, -7.5, 8.75),
    ]]
    fillet(fillet052_edges, radius=FILLET052_R)

    # Fillet053
    fillet053_edges = [part.edges().sort_by_distance(p)[0] for p in [
        (-143.5, -7.5, 8.75),
    ]]
    fillet(fillet053_edges, radius=FILLET053_R)


solid = part.part
